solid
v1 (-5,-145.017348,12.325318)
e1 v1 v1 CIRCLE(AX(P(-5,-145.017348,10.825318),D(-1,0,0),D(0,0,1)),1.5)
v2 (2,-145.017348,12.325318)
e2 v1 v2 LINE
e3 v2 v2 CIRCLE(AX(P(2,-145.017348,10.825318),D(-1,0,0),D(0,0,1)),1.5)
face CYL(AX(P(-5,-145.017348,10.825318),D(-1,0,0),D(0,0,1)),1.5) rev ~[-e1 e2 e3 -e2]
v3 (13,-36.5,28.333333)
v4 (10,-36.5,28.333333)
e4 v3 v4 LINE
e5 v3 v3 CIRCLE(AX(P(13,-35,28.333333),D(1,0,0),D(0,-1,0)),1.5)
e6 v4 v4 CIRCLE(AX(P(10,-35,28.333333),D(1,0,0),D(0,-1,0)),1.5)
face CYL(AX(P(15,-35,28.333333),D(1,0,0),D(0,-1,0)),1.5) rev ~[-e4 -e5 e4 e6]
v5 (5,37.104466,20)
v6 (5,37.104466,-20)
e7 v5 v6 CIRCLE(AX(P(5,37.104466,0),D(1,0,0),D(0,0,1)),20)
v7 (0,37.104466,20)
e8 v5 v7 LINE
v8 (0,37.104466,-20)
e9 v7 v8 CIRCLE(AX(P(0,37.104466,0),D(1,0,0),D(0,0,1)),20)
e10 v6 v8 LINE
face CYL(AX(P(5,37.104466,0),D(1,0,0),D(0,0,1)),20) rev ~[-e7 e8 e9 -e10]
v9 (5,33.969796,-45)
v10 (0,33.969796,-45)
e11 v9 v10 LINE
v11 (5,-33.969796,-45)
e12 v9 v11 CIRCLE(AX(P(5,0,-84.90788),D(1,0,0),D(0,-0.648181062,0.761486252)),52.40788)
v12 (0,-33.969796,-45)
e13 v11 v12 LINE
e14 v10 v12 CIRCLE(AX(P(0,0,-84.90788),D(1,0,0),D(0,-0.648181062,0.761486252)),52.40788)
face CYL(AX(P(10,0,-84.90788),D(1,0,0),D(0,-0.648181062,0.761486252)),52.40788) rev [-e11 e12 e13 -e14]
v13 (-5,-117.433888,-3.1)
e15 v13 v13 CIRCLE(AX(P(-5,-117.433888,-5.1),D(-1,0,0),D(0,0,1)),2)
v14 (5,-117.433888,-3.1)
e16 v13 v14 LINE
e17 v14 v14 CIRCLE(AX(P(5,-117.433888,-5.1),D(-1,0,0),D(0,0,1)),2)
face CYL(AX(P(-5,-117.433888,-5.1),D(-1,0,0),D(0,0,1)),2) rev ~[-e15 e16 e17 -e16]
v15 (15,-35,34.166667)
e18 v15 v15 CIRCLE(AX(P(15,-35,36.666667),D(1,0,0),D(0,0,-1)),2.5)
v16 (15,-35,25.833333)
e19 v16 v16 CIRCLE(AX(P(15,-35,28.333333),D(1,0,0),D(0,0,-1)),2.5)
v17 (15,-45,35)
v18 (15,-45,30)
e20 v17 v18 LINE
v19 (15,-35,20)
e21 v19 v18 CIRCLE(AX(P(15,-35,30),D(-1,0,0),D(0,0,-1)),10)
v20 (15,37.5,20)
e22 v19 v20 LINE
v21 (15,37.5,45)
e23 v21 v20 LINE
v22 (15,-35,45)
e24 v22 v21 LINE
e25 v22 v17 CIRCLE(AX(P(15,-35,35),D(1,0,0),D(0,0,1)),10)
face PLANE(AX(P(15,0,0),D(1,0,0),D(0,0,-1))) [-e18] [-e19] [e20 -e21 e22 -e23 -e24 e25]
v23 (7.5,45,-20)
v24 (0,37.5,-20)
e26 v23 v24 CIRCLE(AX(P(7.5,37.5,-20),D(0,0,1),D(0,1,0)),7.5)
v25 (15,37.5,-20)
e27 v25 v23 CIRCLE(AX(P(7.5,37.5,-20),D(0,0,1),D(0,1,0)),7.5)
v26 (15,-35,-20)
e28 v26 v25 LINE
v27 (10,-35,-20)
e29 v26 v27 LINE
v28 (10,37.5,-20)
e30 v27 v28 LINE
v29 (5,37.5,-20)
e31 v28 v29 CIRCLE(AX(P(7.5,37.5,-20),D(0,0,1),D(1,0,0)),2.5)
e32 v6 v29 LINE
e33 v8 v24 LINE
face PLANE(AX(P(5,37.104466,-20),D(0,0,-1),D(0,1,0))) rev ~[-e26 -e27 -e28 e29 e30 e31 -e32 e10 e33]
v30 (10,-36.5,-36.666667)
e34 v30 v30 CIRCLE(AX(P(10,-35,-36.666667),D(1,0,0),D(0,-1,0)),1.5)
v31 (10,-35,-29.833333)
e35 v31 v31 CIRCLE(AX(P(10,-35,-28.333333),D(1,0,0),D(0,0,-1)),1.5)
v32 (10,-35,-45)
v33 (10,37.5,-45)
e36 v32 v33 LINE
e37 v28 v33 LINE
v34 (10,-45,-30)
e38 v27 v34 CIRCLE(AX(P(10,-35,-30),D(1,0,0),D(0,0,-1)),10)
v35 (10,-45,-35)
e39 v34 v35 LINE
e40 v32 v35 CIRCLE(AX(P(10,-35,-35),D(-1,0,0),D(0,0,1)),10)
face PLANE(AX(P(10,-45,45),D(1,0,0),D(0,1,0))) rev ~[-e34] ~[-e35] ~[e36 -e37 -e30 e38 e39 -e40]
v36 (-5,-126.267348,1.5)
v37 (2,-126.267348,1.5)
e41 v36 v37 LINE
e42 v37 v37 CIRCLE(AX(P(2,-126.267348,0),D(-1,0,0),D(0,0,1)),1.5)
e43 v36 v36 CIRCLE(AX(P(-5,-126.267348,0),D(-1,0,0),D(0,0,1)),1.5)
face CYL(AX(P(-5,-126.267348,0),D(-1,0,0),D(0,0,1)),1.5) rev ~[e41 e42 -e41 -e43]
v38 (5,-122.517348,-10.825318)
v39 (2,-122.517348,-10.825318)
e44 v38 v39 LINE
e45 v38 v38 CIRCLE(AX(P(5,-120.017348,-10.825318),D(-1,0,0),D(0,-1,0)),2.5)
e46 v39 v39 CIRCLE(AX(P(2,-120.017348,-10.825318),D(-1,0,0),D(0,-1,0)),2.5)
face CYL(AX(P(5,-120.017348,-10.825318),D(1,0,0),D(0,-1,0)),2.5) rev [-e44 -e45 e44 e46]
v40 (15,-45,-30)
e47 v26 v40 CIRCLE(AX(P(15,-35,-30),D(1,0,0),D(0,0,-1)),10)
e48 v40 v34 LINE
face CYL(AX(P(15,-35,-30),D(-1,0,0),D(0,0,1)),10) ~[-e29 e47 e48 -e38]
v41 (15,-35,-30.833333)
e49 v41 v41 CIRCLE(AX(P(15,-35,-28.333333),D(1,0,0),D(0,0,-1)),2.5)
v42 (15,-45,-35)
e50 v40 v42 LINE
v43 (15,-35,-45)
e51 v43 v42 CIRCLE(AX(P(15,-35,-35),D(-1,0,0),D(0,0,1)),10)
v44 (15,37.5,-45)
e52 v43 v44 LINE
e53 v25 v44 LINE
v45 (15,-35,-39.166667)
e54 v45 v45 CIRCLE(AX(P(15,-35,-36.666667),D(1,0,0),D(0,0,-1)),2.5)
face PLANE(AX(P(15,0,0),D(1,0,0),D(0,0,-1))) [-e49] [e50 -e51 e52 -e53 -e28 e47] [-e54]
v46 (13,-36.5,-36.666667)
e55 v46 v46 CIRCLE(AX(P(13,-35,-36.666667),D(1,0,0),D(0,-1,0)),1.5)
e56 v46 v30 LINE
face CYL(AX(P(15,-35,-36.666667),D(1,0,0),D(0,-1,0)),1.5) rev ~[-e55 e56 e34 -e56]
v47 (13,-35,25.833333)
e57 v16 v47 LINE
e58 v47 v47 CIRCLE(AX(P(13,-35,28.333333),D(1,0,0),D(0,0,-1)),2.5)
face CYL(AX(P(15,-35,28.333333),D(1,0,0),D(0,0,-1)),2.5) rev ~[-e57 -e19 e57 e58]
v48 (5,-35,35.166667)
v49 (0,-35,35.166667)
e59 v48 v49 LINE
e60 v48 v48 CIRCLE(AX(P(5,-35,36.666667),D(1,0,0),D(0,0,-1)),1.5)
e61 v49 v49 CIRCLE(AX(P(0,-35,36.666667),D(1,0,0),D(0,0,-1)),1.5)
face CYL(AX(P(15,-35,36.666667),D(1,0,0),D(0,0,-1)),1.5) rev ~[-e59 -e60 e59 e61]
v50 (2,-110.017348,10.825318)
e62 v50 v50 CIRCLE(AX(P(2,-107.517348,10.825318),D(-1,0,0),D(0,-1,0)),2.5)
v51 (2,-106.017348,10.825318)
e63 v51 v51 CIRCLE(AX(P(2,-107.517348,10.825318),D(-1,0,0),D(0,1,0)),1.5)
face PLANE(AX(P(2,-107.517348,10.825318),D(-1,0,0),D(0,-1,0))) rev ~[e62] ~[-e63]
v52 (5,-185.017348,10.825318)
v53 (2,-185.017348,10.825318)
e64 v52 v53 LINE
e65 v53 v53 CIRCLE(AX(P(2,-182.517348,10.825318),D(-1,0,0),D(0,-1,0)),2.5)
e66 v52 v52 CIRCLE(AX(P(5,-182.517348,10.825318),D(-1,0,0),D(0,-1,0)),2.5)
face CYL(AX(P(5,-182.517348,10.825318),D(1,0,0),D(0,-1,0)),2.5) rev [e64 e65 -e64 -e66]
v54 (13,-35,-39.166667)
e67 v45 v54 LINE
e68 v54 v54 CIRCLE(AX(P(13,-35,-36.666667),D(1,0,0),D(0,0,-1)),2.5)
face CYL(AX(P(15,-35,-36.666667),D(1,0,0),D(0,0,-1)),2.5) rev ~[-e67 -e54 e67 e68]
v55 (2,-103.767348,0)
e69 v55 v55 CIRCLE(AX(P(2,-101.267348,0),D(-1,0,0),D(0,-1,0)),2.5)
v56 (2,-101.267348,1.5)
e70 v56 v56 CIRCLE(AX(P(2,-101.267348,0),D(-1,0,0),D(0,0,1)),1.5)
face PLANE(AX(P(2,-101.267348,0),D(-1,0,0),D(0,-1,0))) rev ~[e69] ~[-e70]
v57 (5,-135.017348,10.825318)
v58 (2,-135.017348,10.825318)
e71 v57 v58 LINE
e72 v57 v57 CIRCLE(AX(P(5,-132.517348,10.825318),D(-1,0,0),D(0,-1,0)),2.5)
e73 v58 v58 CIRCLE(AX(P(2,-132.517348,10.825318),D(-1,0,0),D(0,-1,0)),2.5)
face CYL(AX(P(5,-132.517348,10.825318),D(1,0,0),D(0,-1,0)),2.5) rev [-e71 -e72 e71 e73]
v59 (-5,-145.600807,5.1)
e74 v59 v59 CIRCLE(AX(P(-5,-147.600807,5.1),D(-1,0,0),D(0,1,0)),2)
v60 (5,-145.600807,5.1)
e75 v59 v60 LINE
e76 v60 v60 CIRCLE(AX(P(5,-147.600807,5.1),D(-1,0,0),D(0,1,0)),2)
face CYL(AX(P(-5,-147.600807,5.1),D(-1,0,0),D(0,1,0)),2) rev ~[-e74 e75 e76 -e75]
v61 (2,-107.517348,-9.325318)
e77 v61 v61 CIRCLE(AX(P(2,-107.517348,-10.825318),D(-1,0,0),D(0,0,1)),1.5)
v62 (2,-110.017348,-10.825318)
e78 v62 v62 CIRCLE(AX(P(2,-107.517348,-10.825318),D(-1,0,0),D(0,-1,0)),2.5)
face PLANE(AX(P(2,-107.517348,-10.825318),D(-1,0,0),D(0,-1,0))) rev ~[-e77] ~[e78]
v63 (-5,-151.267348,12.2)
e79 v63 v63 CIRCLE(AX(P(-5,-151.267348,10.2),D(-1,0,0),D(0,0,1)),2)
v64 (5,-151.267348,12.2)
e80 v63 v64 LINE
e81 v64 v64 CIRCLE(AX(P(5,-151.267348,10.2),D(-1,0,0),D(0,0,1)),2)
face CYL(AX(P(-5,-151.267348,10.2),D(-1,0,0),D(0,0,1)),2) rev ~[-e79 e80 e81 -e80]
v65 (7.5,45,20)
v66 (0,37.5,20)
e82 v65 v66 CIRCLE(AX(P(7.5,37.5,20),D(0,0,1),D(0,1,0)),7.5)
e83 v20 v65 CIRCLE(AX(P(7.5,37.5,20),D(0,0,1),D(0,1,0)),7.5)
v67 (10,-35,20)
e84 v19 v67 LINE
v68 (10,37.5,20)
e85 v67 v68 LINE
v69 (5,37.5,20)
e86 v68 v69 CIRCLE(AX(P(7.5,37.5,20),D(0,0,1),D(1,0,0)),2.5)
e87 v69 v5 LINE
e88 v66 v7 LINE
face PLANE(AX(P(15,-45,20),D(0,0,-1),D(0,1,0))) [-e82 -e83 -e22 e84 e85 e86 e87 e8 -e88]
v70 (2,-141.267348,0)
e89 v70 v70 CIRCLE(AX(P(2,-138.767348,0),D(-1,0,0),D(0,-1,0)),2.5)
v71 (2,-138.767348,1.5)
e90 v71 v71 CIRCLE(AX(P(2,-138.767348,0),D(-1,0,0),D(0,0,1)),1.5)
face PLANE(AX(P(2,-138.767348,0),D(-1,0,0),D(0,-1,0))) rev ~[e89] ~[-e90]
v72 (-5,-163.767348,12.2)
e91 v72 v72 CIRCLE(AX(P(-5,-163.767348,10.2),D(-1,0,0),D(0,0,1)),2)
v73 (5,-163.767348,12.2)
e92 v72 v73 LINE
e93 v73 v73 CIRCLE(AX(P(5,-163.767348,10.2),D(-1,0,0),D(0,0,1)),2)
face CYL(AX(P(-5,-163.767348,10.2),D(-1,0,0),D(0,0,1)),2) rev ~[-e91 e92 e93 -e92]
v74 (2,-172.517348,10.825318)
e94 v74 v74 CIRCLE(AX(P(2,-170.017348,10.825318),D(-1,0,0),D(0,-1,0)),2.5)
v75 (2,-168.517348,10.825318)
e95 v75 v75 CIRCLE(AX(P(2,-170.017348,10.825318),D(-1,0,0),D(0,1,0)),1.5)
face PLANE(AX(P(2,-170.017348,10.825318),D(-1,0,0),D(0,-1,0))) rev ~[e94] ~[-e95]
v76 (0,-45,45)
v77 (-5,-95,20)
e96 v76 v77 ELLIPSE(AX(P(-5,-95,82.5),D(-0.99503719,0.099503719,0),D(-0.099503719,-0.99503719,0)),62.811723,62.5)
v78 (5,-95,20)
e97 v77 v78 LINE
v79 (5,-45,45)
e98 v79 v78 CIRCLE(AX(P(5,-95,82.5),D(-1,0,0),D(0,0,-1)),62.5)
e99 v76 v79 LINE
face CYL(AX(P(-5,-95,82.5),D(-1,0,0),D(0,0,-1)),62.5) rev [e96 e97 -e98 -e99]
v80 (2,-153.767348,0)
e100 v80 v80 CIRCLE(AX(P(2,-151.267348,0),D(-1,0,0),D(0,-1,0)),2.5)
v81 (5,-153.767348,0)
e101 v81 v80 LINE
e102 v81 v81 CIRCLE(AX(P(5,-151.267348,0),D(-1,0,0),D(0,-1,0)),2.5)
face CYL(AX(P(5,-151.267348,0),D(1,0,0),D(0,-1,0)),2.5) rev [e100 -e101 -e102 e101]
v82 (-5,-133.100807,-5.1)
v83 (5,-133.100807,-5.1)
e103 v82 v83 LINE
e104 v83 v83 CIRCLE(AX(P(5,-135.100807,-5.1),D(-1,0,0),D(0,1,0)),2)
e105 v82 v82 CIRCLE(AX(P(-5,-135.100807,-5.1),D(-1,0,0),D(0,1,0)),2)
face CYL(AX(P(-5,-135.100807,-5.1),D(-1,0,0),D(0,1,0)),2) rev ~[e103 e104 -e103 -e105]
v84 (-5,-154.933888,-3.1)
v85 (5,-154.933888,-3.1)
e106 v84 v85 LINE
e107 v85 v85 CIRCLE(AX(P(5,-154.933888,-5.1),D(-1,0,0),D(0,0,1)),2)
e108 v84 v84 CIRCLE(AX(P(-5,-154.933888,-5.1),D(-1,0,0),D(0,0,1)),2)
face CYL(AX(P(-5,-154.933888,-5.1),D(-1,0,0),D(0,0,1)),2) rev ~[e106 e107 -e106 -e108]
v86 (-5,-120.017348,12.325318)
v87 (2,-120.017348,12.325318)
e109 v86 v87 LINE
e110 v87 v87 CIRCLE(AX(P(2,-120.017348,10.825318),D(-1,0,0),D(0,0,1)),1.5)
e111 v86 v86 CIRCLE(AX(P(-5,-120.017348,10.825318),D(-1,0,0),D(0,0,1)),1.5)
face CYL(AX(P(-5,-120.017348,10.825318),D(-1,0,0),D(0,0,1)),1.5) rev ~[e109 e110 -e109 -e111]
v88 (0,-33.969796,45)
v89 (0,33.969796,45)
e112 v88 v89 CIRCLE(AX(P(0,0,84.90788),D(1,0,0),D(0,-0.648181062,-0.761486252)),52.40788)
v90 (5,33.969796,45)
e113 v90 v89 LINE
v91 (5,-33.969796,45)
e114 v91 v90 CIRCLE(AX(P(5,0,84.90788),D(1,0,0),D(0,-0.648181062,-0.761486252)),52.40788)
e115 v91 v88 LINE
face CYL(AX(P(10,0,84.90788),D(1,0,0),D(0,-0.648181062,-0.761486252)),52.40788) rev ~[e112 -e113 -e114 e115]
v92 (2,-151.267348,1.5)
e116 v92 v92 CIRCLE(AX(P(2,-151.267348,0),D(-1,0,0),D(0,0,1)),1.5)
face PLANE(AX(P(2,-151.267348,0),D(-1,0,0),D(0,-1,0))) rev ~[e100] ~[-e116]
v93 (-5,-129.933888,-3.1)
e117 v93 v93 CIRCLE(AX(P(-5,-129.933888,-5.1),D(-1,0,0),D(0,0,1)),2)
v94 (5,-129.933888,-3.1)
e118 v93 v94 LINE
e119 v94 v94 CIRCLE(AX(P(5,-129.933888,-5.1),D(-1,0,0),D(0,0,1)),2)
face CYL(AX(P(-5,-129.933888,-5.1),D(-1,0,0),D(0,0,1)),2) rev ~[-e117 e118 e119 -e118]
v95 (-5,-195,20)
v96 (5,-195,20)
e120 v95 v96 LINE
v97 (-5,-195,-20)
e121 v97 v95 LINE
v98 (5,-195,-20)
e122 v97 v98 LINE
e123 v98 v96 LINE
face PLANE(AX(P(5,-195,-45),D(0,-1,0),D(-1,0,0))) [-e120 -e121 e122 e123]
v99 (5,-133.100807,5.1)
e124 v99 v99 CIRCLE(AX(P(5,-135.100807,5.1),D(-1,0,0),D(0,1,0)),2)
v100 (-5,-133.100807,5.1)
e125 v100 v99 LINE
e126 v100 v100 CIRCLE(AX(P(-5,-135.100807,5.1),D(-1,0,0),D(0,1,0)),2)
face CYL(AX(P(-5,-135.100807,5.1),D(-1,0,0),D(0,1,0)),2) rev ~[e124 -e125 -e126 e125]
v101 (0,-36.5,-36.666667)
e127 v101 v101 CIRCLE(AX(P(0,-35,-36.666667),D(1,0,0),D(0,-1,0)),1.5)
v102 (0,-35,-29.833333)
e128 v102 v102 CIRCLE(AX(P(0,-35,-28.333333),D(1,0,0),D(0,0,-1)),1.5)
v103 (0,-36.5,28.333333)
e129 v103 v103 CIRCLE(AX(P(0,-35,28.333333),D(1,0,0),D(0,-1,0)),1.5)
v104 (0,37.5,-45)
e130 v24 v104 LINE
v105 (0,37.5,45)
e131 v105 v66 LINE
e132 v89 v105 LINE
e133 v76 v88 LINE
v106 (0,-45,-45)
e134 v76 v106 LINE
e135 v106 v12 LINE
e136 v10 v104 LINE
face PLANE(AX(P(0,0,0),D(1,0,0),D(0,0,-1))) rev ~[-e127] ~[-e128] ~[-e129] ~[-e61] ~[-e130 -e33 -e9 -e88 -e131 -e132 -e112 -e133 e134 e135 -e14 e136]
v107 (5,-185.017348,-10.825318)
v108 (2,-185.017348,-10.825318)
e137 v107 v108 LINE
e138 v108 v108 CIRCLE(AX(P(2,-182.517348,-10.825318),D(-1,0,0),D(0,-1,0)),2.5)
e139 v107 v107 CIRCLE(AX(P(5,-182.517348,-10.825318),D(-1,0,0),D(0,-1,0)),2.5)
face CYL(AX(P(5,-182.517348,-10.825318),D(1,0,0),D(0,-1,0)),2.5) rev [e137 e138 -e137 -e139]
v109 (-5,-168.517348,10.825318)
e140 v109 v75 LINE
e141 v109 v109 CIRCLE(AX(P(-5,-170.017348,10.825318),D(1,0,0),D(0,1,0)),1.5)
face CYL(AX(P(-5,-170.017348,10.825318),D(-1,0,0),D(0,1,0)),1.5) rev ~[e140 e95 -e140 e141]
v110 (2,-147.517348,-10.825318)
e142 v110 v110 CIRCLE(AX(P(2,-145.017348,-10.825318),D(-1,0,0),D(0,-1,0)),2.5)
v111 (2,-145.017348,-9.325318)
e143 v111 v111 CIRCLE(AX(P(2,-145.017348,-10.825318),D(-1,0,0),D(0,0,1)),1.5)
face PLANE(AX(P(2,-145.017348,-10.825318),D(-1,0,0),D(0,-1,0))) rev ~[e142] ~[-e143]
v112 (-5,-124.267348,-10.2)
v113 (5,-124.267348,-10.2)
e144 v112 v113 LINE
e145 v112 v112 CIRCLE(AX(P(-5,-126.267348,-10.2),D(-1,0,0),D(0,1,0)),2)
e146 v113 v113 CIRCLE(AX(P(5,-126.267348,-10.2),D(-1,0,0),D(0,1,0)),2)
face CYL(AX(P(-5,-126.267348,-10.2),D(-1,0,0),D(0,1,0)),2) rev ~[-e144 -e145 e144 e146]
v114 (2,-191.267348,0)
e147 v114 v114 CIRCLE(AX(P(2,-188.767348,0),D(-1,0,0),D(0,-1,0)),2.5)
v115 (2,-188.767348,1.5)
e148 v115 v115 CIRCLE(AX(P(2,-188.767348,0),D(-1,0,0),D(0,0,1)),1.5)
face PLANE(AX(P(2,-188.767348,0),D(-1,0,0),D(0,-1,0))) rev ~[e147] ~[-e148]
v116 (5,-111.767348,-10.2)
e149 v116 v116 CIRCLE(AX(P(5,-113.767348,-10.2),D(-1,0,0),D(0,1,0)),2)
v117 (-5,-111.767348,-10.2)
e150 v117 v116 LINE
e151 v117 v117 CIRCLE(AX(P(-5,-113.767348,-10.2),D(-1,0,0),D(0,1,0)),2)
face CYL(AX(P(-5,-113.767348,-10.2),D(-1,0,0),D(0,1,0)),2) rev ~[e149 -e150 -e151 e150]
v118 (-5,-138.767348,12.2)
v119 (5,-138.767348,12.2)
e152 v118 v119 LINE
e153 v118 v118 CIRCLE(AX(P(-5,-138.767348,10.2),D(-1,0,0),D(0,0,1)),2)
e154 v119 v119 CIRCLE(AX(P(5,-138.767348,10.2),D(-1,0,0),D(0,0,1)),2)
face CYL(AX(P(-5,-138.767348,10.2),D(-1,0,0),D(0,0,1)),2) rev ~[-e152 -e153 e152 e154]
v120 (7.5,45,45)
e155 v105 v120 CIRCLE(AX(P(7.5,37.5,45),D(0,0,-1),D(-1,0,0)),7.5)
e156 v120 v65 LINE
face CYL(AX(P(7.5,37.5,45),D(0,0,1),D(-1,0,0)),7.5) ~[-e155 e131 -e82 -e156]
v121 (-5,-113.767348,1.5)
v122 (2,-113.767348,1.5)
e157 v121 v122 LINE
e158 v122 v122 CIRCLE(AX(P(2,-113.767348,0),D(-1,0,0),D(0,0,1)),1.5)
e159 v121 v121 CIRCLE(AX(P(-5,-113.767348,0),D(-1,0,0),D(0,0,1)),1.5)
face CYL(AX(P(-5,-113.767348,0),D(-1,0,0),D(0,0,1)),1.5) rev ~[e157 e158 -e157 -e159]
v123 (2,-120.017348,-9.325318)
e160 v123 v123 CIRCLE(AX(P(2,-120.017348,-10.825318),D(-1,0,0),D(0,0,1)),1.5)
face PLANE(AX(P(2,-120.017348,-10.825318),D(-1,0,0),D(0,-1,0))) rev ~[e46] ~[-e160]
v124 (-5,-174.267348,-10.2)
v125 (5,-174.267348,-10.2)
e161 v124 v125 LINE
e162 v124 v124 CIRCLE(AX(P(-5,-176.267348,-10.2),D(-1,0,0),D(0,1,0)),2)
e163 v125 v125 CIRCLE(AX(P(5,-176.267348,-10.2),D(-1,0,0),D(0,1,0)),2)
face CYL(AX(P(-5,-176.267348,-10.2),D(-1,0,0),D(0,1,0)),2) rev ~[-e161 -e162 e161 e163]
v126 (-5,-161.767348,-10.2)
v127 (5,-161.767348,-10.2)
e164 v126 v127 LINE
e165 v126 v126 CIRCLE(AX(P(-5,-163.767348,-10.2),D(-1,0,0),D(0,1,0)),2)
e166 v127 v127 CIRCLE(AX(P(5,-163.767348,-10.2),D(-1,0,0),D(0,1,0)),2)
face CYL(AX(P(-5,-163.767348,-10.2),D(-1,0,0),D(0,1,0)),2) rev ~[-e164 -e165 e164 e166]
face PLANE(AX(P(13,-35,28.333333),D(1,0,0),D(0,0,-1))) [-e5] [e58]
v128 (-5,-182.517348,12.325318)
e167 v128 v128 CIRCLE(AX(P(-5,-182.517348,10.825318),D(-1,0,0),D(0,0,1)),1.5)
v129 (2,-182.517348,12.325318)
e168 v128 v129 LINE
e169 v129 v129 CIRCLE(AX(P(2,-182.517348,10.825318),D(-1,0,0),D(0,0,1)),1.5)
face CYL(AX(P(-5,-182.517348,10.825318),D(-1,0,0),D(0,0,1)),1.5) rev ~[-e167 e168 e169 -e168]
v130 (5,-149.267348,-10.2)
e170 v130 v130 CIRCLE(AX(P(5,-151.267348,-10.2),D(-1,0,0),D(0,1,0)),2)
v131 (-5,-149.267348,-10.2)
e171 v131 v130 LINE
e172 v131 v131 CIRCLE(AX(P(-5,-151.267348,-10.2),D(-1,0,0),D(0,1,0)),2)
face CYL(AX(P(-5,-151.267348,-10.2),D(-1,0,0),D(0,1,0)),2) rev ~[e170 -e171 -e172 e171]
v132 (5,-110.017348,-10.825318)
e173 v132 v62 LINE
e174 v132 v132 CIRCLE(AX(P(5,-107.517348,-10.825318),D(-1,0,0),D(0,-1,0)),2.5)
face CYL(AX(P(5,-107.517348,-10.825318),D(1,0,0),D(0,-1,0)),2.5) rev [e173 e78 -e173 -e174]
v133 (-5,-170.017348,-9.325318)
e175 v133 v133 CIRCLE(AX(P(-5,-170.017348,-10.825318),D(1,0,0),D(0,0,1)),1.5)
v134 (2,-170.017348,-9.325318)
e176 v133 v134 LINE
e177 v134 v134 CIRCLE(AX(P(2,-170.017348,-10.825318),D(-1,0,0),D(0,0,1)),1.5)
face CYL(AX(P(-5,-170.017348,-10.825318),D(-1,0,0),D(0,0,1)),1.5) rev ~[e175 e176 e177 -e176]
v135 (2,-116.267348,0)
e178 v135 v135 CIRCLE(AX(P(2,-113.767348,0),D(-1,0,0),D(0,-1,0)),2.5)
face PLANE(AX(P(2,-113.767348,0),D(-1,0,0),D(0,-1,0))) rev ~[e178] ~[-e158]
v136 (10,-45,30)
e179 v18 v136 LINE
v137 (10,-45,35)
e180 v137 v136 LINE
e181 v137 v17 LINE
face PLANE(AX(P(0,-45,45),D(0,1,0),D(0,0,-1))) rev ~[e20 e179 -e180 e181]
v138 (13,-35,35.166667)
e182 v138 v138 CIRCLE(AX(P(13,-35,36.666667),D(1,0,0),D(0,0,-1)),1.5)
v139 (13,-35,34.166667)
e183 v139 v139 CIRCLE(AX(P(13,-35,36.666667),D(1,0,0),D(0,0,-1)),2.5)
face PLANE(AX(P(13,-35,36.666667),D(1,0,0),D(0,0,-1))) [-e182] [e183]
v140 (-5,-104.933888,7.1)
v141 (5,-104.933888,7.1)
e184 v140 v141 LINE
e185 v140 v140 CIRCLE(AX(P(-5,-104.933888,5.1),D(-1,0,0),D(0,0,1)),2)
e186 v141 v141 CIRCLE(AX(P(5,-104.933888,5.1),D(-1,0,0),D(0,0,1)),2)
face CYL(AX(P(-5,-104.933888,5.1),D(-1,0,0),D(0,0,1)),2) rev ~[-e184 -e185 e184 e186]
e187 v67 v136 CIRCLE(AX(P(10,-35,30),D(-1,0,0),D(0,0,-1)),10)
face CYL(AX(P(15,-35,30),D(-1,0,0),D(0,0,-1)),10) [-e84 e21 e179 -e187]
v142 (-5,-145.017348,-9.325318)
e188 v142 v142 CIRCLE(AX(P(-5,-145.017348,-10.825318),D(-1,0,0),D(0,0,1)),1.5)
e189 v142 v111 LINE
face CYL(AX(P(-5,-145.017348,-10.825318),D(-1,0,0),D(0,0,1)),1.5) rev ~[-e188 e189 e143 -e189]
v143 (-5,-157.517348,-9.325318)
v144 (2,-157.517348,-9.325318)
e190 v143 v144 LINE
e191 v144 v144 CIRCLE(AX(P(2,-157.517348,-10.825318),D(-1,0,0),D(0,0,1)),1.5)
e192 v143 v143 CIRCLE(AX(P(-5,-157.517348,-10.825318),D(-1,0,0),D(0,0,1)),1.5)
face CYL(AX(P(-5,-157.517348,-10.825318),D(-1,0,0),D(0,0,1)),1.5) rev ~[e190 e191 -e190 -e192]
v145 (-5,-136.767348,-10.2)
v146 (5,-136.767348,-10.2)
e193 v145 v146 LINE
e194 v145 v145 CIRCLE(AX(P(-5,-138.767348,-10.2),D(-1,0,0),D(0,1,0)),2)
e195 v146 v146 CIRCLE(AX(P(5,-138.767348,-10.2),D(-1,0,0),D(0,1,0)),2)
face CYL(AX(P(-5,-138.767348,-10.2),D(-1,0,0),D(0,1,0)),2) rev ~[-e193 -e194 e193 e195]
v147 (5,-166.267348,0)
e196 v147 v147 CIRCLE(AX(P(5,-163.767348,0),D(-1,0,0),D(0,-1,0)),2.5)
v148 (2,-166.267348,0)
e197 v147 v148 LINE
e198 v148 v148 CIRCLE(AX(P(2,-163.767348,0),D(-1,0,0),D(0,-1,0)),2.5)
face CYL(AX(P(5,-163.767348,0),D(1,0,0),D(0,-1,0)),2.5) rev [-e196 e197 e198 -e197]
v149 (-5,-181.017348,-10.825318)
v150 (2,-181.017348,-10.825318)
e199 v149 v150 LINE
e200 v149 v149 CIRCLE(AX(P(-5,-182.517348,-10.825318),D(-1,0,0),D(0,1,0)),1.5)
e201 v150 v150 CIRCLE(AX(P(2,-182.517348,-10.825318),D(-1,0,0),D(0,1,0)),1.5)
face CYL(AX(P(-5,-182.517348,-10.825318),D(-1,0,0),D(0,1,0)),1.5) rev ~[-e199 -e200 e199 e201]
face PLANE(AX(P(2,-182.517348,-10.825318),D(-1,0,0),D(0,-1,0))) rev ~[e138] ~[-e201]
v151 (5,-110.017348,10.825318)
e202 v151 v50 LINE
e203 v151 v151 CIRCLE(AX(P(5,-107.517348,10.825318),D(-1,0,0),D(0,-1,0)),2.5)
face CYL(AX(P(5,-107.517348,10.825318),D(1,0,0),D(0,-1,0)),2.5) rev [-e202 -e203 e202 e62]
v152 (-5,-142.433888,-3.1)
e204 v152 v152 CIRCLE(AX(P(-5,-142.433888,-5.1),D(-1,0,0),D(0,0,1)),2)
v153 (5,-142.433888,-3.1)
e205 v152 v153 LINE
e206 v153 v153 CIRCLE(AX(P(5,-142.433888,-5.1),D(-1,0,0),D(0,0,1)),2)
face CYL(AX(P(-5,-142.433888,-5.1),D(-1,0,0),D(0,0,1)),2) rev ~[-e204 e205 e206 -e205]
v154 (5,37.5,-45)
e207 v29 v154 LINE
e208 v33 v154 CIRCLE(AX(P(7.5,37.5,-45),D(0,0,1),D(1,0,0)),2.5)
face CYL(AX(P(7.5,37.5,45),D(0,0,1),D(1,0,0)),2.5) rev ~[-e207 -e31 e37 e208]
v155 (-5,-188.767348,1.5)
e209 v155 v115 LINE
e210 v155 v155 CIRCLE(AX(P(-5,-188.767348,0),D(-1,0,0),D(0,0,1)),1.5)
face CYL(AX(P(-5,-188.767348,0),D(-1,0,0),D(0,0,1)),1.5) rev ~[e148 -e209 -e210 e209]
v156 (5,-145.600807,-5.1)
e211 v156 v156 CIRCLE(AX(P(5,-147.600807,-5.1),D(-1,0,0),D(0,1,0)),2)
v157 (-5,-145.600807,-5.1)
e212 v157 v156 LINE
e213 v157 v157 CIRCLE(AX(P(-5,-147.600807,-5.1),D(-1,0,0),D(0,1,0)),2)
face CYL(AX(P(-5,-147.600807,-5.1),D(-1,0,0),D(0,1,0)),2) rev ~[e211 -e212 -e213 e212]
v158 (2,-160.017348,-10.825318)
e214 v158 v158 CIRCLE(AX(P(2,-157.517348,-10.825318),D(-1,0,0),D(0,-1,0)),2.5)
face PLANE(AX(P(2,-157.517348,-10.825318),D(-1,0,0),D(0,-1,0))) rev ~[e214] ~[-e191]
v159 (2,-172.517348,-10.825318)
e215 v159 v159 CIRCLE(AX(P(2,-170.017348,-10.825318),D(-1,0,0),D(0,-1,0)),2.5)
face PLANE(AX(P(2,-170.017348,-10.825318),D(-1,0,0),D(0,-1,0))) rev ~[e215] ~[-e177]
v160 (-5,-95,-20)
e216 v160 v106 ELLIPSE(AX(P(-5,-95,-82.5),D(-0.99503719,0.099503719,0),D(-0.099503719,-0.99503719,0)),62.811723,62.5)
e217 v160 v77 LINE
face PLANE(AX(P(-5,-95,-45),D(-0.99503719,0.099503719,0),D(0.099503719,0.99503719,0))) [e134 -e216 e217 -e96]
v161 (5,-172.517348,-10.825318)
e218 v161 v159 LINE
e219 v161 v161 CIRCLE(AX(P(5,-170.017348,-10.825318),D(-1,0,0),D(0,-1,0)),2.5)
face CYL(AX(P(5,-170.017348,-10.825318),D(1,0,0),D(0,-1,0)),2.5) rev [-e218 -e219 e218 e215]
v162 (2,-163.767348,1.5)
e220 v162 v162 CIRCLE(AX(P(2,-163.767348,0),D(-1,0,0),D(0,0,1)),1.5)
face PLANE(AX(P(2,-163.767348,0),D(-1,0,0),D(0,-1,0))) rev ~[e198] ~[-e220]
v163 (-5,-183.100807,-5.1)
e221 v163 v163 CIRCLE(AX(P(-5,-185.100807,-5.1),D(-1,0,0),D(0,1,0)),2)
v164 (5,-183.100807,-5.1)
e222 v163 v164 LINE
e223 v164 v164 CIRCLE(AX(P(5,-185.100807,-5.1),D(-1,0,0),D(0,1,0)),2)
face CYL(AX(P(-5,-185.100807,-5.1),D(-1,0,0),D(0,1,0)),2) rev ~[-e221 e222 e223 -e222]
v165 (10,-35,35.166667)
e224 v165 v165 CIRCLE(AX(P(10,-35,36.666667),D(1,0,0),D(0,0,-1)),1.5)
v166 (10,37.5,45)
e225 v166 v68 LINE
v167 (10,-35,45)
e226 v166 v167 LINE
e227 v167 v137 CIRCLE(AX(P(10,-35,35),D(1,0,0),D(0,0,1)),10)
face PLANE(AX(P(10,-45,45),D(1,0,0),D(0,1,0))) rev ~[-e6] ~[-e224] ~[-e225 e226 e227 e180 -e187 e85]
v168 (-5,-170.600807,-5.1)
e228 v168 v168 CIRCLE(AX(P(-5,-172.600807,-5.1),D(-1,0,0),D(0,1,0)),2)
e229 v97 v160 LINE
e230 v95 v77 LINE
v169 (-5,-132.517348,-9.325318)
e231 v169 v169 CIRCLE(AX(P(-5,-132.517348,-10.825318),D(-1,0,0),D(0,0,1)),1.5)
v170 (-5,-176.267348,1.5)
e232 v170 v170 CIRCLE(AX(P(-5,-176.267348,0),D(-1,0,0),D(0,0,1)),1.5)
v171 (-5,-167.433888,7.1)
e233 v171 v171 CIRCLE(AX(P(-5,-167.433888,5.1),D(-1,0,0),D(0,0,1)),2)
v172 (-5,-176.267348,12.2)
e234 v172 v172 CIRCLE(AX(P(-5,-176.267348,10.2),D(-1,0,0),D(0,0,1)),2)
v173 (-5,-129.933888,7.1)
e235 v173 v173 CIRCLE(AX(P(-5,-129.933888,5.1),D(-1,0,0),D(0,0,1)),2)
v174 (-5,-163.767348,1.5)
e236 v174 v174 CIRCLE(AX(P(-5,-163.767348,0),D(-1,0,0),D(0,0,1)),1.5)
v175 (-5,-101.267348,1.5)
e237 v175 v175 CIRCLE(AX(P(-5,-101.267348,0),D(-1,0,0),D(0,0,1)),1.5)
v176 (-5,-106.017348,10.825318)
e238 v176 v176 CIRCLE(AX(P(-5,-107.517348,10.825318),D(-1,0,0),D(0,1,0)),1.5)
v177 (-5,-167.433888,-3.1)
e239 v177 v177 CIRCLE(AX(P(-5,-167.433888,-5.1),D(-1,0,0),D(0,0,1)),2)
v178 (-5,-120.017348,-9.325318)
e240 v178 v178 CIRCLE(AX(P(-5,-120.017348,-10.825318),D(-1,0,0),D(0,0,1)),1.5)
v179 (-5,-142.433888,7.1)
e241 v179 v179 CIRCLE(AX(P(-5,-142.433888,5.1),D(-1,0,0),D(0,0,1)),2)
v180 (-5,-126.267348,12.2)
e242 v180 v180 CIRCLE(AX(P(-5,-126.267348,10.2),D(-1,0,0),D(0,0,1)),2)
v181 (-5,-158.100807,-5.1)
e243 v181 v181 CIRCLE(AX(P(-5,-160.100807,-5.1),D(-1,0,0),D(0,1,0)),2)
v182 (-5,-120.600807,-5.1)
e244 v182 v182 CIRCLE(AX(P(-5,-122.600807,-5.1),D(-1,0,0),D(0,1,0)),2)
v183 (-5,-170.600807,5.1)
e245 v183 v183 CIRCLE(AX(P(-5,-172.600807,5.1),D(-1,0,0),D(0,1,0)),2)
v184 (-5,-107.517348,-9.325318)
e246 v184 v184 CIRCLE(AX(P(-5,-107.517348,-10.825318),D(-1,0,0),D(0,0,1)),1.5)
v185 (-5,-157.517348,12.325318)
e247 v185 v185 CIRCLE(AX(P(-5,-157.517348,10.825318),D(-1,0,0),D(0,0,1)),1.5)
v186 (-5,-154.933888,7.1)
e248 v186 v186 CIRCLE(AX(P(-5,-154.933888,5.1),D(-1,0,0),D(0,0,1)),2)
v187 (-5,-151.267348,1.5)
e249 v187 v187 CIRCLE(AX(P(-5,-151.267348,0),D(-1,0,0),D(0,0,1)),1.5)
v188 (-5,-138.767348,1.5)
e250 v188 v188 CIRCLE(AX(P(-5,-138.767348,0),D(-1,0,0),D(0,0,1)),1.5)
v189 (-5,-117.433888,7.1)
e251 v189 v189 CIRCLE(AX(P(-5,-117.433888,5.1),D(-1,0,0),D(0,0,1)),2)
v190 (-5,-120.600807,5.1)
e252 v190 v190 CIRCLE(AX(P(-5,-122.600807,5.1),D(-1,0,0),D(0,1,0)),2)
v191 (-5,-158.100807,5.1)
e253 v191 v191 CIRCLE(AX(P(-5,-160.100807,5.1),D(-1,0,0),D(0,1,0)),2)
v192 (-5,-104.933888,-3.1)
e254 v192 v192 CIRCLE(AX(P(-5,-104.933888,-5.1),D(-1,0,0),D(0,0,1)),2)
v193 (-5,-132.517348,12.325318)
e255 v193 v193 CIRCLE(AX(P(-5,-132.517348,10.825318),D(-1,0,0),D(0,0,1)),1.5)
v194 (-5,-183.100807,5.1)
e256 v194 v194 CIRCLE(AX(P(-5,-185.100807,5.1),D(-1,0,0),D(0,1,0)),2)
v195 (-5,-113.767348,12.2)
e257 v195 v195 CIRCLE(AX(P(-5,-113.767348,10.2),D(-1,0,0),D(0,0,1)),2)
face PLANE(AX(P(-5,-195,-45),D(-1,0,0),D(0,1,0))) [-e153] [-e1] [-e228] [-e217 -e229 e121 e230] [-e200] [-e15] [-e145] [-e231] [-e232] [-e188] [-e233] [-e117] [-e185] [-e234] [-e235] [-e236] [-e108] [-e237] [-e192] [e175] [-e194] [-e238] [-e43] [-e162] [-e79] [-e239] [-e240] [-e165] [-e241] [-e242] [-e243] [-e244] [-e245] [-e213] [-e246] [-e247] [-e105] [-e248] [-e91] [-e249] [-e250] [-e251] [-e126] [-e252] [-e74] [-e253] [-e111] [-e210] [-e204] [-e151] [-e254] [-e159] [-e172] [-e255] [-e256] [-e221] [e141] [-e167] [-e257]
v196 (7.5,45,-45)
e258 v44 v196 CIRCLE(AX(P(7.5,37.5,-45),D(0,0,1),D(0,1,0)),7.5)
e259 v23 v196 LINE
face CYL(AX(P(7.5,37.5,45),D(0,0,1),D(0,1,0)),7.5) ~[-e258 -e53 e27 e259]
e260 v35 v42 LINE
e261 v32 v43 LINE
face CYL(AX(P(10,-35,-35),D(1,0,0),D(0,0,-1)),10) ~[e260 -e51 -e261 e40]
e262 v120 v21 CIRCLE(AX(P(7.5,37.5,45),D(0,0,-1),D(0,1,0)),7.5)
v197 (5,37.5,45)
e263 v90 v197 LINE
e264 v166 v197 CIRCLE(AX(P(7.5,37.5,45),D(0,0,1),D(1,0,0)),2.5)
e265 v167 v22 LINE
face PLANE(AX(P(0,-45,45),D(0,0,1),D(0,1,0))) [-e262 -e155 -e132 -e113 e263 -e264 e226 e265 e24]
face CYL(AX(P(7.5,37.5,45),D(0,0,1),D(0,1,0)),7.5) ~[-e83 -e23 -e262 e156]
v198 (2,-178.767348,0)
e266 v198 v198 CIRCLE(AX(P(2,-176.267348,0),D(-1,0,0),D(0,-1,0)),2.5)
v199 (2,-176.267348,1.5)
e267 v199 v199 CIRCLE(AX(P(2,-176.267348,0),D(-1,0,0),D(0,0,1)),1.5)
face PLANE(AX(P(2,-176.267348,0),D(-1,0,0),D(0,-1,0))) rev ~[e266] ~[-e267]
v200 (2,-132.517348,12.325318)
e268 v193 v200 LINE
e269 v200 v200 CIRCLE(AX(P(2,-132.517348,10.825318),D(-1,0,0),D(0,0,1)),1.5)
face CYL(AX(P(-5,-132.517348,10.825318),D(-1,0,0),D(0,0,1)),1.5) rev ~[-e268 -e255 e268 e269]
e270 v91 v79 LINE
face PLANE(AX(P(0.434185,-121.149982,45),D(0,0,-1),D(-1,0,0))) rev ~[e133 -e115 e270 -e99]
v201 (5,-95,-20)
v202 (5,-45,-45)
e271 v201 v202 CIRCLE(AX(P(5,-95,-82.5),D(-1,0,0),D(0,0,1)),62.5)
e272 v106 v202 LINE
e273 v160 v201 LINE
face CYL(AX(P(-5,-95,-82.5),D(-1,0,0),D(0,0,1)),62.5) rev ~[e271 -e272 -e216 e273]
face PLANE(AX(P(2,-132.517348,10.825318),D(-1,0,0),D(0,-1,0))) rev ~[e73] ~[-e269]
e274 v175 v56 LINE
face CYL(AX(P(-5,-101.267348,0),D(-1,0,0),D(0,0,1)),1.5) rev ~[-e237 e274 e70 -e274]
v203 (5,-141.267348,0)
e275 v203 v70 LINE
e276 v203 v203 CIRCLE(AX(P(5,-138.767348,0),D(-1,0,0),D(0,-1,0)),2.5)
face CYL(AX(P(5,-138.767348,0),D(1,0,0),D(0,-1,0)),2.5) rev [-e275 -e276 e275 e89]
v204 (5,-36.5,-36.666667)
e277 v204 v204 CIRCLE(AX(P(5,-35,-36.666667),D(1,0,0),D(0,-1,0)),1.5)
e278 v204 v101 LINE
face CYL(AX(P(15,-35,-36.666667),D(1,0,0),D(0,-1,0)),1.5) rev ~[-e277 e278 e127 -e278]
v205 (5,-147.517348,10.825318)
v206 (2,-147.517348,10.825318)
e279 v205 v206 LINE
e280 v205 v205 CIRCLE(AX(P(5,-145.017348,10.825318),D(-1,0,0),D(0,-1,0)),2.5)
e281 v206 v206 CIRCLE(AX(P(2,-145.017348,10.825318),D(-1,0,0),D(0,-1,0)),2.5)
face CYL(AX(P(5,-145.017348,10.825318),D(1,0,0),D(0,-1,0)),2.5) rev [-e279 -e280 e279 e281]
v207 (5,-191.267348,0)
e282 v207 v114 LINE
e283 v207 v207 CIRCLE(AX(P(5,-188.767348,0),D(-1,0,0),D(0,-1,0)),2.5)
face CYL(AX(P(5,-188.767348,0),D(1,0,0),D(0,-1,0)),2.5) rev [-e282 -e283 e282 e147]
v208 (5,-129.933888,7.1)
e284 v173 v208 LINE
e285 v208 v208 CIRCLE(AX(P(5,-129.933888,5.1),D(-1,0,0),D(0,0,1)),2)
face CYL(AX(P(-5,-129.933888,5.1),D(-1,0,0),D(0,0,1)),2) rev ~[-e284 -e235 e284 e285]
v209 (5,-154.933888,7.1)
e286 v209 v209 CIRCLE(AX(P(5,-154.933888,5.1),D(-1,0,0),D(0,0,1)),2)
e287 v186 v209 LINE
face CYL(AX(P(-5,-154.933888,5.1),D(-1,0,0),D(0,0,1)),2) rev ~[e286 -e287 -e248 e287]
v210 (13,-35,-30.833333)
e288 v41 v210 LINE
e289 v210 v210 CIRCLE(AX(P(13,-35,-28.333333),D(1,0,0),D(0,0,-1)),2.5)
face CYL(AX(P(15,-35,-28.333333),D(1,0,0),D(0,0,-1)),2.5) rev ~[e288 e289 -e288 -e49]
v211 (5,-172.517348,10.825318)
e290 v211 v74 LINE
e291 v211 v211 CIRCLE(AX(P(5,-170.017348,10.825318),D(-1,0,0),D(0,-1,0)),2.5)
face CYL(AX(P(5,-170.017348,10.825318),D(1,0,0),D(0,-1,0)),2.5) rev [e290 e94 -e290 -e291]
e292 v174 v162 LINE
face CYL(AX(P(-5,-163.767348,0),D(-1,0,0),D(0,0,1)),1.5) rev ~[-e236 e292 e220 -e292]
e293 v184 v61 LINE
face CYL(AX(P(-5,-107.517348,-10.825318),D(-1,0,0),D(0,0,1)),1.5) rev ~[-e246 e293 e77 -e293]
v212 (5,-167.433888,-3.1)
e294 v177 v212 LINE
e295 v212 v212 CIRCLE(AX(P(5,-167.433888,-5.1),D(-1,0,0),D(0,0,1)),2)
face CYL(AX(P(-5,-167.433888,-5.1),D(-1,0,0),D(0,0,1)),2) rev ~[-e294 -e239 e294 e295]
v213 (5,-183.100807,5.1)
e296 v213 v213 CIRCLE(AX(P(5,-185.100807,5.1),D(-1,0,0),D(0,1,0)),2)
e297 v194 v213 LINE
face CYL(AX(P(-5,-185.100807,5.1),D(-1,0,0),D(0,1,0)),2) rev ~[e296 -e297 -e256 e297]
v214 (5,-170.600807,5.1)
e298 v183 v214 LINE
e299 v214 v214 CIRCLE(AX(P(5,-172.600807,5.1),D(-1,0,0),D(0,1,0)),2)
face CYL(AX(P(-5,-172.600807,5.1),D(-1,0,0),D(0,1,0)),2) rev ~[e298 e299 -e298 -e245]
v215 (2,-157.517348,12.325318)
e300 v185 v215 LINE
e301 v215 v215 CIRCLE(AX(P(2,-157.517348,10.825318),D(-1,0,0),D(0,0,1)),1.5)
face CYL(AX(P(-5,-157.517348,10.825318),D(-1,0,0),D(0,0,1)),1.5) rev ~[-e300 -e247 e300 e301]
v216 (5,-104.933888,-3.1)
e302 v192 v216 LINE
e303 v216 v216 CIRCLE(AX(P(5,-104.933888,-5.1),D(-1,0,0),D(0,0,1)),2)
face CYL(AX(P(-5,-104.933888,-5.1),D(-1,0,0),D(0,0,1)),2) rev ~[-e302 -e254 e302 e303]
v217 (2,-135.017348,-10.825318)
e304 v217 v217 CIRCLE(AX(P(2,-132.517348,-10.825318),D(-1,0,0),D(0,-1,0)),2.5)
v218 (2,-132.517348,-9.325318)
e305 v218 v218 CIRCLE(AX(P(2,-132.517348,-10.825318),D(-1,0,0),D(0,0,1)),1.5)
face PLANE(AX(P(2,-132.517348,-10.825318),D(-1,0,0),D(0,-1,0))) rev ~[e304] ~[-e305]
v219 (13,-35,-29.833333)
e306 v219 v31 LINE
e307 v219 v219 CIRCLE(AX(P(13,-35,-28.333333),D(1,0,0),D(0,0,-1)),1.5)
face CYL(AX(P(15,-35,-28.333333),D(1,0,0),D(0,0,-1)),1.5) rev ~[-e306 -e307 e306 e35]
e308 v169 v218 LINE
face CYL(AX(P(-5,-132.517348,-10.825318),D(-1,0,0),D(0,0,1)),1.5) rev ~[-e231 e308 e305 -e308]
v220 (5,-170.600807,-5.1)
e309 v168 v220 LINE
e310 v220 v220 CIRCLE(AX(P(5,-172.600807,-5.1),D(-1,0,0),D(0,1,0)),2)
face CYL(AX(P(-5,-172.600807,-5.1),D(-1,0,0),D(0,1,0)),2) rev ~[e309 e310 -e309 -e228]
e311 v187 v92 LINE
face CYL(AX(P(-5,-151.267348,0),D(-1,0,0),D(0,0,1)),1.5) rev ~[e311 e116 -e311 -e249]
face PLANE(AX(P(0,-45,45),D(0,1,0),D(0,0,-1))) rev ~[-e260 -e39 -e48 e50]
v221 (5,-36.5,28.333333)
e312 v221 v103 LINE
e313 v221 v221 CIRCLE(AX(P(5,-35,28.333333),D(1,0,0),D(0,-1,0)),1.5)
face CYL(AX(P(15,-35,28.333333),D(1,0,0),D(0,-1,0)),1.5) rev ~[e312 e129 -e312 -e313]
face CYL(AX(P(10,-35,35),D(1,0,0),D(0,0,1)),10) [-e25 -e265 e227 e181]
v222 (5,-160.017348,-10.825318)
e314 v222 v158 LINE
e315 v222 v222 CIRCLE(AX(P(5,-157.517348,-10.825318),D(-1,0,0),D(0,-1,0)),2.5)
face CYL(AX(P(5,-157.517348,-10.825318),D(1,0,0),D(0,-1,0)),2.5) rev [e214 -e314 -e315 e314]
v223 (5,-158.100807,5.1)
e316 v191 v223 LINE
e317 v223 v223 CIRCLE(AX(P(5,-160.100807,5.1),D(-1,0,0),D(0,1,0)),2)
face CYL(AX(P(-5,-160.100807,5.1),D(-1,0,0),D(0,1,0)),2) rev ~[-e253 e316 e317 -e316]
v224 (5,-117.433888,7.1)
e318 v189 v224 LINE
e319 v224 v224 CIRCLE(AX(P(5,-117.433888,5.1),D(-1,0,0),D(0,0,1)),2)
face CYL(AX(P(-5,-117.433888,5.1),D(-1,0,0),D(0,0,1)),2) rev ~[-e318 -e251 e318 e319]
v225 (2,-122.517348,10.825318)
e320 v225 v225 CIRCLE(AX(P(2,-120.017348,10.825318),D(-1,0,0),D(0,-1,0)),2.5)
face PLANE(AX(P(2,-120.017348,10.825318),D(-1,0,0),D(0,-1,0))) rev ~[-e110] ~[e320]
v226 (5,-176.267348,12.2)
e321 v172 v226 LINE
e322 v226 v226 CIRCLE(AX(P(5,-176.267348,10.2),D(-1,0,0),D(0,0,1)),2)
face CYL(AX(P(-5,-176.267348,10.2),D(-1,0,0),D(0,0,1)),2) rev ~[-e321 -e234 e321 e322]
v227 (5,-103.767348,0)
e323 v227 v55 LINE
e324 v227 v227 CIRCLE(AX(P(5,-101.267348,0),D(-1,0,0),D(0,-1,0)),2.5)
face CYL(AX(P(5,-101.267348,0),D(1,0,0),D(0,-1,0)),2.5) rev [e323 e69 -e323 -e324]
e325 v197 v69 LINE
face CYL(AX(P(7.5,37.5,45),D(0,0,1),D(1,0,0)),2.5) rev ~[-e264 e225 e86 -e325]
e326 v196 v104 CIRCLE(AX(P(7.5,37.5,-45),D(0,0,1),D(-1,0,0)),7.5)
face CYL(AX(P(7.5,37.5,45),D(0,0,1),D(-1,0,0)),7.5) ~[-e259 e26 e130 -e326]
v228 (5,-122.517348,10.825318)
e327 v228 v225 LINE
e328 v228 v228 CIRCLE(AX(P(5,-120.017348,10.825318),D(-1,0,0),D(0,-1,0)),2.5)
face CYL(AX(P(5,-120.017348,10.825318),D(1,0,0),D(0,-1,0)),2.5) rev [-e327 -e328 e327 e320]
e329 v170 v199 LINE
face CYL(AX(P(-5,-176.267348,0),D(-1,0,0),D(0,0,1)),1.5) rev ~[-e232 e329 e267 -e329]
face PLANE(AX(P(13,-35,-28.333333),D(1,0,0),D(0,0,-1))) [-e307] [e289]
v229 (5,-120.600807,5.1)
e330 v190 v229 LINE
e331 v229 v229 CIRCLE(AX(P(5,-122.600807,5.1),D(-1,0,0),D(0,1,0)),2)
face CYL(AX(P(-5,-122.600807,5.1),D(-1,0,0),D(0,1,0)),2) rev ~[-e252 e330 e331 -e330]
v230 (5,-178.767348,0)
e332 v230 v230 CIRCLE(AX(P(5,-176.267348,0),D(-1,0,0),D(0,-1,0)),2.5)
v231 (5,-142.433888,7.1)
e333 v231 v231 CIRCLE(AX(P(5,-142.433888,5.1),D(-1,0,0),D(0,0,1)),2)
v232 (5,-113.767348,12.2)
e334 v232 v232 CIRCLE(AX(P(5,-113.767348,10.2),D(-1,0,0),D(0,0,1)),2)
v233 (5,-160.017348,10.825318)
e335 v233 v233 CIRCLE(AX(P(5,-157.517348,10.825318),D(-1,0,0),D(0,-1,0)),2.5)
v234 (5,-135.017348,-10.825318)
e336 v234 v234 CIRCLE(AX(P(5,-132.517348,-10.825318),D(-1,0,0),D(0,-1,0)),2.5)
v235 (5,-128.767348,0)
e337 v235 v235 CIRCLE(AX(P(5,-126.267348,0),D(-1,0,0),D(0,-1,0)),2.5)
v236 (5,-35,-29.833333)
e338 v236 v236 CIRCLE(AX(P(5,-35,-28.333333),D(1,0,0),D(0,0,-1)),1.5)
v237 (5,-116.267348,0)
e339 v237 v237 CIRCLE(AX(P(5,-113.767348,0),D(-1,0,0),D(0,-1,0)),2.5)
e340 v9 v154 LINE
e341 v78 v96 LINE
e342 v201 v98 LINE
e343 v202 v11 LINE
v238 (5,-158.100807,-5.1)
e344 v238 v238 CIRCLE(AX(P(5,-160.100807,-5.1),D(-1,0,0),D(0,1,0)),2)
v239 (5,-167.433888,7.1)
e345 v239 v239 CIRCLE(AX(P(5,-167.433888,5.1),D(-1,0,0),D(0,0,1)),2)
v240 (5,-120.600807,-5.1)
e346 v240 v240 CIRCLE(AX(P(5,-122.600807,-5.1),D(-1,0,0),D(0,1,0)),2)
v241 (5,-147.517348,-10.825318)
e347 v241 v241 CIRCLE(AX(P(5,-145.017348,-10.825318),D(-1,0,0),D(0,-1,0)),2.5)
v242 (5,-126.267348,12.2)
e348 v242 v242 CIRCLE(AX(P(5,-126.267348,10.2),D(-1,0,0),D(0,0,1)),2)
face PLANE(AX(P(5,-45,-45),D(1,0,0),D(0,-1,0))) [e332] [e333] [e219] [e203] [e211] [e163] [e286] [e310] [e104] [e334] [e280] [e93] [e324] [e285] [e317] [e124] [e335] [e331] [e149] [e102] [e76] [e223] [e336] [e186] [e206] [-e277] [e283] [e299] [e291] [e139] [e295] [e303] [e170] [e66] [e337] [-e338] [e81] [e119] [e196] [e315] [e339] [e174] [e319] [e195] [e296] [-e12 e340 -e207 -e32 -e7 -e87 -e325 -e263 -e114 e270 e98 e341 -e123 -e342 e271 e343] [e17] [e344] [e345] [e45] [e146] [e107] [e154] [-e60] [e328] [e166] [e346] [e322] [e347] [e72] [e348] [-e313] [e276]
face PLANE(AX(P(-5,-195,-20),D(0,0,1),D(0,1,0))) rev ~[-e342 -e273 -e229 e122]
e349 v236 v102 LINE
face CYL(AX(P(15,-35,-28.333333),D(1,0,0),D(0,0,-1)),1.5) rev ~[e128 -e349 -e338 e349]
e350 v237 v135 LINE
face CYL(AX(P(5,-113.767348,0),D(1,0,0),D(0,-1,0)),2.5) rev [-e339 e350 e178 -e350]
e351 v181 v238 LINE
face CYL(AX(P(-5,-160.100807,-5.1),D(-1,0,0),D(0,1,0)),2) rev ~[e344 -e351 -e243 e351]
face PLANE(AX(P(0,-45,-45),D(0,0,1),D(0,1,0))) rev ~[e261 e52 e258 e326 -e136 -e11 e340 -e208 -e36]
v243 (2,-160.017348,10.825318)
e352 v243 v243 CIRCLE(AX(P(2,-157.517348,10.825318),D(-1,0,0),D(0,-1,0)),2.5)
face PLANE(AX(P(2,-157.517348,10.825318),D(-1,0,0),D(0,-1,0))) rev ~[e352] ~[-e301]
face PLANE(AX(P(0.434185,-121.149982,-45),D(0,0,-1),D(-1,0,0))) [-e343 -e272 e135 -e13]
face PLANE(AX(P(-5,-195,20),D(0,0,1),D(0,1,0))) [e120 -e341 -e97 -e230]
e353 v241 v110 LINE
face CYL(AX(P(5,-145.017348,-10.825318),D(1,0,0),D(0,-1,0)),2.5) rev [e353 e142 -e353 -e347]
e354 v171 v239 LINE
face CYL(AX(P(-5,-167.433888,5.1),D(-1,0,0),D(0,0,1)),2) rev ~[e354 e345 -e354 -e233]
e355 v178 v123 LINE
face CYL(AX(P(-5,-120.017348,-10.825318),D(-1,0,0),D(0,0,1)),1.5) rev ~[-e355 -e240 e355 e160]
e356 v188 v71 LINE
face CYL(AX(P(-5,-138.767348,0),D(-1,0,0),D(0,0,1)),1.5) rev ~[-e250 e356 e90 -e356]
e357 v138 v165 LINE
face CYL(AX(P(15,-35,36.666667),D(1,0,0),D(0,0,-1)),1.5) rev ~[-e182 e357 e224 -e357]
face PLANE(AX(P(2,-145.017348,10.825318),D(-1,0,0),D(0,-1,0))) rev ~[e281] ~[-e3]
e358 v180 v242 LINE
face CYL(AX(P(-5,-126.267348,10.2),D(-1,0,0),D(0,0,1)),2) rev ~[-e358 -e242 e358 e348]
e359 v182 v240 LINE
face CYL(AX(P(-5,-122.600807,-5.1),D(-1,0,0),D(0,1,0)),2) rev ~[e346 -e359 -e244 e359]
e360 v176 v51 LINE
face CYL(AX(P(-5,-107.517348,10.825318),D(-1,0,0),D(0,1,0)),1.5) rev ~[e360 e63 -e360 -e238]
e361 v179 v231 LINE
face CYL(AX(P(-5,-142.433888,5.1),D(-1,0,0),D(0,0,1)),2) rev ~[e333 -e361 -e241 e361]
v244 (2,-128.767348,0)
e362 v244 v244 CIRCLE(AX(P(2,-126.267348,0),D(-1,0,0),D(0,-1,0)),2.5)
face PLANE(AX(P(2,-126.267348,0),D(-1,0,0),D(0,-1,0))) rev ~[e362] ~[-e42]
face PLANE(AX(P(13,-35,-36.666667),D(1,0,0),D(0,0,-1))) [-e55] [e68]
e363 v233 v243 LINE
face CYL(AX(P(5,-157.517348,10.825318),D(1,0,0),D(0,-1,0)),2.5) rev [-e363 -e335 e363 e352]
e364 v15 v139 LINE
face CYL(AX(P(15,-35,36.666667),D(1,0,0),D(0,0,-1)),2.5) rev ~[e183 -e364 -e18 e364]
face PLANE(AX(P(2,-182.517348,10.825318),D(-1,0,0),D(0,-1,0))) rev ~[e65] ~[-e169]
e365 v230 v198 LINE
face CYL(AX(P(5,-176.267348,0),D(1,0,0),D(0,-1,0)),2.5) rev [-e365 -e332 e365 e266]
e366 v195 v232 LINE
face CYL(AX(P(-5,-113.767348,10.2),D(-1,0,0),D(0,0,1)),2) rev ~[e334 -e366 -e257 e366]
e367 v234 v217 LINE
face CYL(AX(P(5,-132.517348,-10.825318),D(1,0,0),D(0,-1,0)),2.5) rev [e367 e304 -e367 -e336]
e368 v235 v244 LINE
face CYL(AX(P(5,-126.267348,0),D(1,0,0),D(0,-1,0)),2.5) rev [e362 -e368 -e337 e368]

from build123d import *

# Parameters (mm, degrees)
SKETCH_1_W               = 90
SKETCH_1_H               = 90
EXTRUDE_1_DEPTH          = 15
SKETCH_2_W               = 5
SKETCH_2_H               = 82.5
CUT_EXTRUDE_1_DEPTH      = 102.734949747
CUT_EXTRUDE_2_REACH      = 67.383
SKETCH_3_W               = 40
SKETCH_3_H               = 90
FILLET_1_R               = 10
CUT_EXTRUDE_3_DEPTH      = 65.420493634
CUT_EXTRUDE_4_DEPTH      = 15
CUT_EXTRUDE_4_DEPTH_BACK = 10
SKETCH_7_R               = 1.5
CUT_EXTRUDE_5_DEPTH      = 66.383484153
SKETCH_8_R               = 2.5
CUT_EXTRUDE_6_DEPTH      = 2
EXTRUDE_2_DEPTH          = 45
EXTRUDE_2_DEPTH_BACK     = 45
SKETCH_10_R              = 1.5
CUT_EXTRUDE_7_DEPTH      = 50
SKETCH_11_R              = 2
CUT_EXTRUDE_8_DEPTH      = 50
SKETCH_13_R              = 2.5
CUT_EXTRUDE_9_DEPTH      = 3
PATTERN_LINEAR_3_COUNT   = 6
PATTERN_LINEAR_3_PITCH   = 12.5
CUT_EXTRUDE_10_DEPTH     = 202.121853611


with BuildPart() as part:
    # 草图1 → 凸台-拉伸1 (new body)
    with BuildSketch(Plane(origin=(0, 0, 0), x_dir=(0, 0, -1), z_dir=(1, 0, 0))):
        Rectangle(SKETCH_1_W, SKETCH_1_H)
    extrude(amount=EXTRUDE_1_DEPTH)

    # 草图2 → 切除-拉伸1 (cut, through all)
    with BuildSketch(Plane.XY.offset(45)):
        with BuildLine():
            Line((0, 45), (0, 37.5))
            ThreePointArc((0, 37.5), (2.196699141, 42.803300859), (7.5, 45))
            Line((7.5, 45), (0, 45))
        make_face()
        with BuildLine():
            Line((15, 45), (7.5, 45))
            ThreePointArc((7.5, 45), (12.803300859, 42.803300859), (15, 37.5))
            Line((15, 37.5), (15, 45))
        make_face()
        with BuildLine():
            ThreePointArc((10, 37.5), (7.5, 40), (5, 37.5))
            Line((5, 37.5), (10, 37.5))
        make_face()
        with Locations((7.5, -3.75)):
            Rectangle(SKETCH_2_W, SKETCH_2_H)
    extrude(amount=-CUT_EXTRUDE_1_DEPTH, mode=Mode.SUBTRACT)

    # 切除-拉伸2: up to this face of the body (flat: up to its plane)
    cut_extrude_2_end = Plane(part.part.faces().sort_by_distance((5, -3.75, 0))[0])
    # 草图3 → 切除-拉伸2 (cut, up to the picked face)
    with BuildSketch(Plane(origin=(15, 0, 0), x_dir=(0, 0, -1), z_dir=(1, 0, 0)), mode=Mode.PRIVATE) as cut_extrude_2_sk1:
        Rectangle(SKETCH_3_W, SKETCH_3_H)
    cut_extrude_2_tool1 = split(extrude(cut_extrude_2_sk1.sketch, amount=-CUT_EXTRUDE_2_REACH, mode=Mode.PRIVATE), bisect_by=cut_extrude_2_end, keep=Keep.BOTH, mode=Mode.PRIVATE)
    add(cut_extrude_2_tool1.solids().sort_by(Axis((15, 0, 0), (-1, 0, 0)))[0], mode=Mode.SUBTRACT)

    # 圆角1
    fillet_1_edges = [part.edges().sort_by_distance(p)[0] for p in [
        (12.5, -45, 20),
        (12.5, -45, -20),
        (12.5, -45, -45),
        (12.5, -45, 45),
    ]]
    fillet(fillet_1_edges, radius=FILLET_1_R)

    # 草图4 → 切除-拉伸3 (cut, through all)
    with BuildSketch(Plane(origin=(5, 0, 0), x_dir=(0, 0, -1), z_dir=(1, 0, 0))):
        with BuildLine():
            Line((-20, 44.571067812), (-20, 37.104465858))
            ThreePointArc((-20, 37.104465858), (0, 17.104465858), (20, 37.104465858))
            Line((20, 37.104465858), (20, 44.571067812))
            Line((20, 44.571067812), (-20, 44.571067812))
        make_face()
    extrude(amount=-CUT_EXTRUDE_3_DEPTH, mode=Mode.SUBTRACT)

    # 草图6 → 切除-拉伸4 (cut, two sides: drawn at the far end of the back side and taken through both)
    with BuildSketch(Plane.ZY.offset(-CUT_EXTRUDE_4_DEPTH_BACK)):
        with BuildLine():
            Line((45, 33.969795549), (45, -33.969795549))
            ThreePointArc((45, -33.969795549), (32.5, 0), (45, 33.969795549))
        make_face()
        with BuildLine():
            Line((-45, 33.969795549), (-45, -33.969795549))
            ThreePointArc((-45, -33.969795549), (-32.5, 0), (-45, 33.969795549))
        make_face()
    extrude(amount=CUT_EXTRUDE_4_DEPTH + CUT_EXTRUDE_4_DEPTH_BACK, mode=Mode.SUBTRACT)

    # 草图7 → 切除-拉伸5 (cut, through all)
    with BuildSketch(Plane(origin=(15, 0, 0), x_dir=(0, 0, -1), z_dir=(1, 0, 0))):
        with Locations((-36.666666667, -35)):
            Circle(SKETCH_7_R)
        with Locations(Location((-28.333333333, -35, 0), (0, 0, 270))):
            Circle(SKETCH_7_R)
        with Locations(Location((36.666666667, -35, 0), (0, 0, 270))):
            Circle(SKETCH_7_R)
        with Locations((28.333333333, -35)):
            Circle(SKETCH_7_R)
    extrude(amount=-CUT_EXTRUDE_5_DEPTH, mode=Mode.SUBTRACT)

    # 草图8 → 切除-拉伸6 (cut)
    with BuildSketch(Plane(origin=(15, 0, 0), x_dir=(0, 0, -1), z_dir=(1, 0, 0))):
        with Locations((-36.666666667, -35)):
            Circle(SKETCH_8_R)
        with Locations((-28.333333333, -35)):
            Circle(SKETCH_8_R)
        with Locations((28.333333333, -35)):
            Circle(SKETCH_8_R)
        with Locations((36.666666667, -35)):
            Circle(SKETCH_8_R)
    extrude(amount=-CUT_EXTRUDE_6_DEPTH, mode=Mode.SUBTRACT)

    # 草图9 → 凸台-拉伸2 (add, two sides: drawn at the far end of the back side and taken through both)
    with BuildSketch(Plane.XY.offset(-EXTRUDE_2_DEPTH_BACK)):
        Polygon((0, -45), (5, -45), (5, -195), (-5, -195), (-5, -95), align=None)
    extrude(amount=EXTRUDE_2_DEPTH + EXTRUDE_2_DEPTH_BACK)

    # 草图10 → 切除-拉伸7 (cut)
    with BuildSketch(Plane.ZY.offset(5)):
        with Locations((0, -163.767347597)):
            Circle(SKETCH_10_R)
        with Locations((0, -188.767347597)):
            Circle(SKETCH_10_R)
        with Locations((-10.825317547, -170.017347597)):
            Circle(SKETCH_10_R)
        with Locations(Location((-10.825317547, -182.517347597, 0), (0, 0, 90))):
            Circle(SKETCH_10_R)
        with Locations((10.825317547, -182.517347597)):
            Circle(SKETCH_10_R)
        with Locations(Location((10.825317547, -170.017347597, 0), (0, 0, 90))):
            Circle(SKETCH_10_R)
    cut_extrude_7 = extrude(amount=-CUT_EXTRUDE_7_DEPTH, mode=Mode.SUBTRACT)

    # 草图11 → 切除-拉伸8 (cut)
    with BuildSketch(Plane.ZY.offset(5)):
        with Locations((-5.1, -167.433888479)):
            Circle(SKETCH_11_R)
        with Locations((10.2, -176.267347597)):
            Circle(SKETCH_11_R)
        with Locations((5.1, -167.433888479)):
            Circle(SKETCH_11_R)
        with Locations(Location((5.1, -185.100806716, 0), (0, 0, 90))):
            Circle(SKETCH_11_R)
        with Locations(Location((-5.1, -185.100806716, 0), (0, 0, 90))):
            Circle(SKETCH_11_R)
        with Locations(Location((-10.2, -176.267347597, 0), (0, 0, 90))):
            Circle(SKETCH_11_R)
    cut_extrude_8 = extrude(amount=-CUT_EXTRUDE_8_DEPTH, mode=Mode.SUBTRACT)

    # 草图13 → 切除-拉伸9 (cut)
    with BuildSketch(Plane.ZY.offset(-5)):
        with Locations(Location((0, -163.767347597, 0), (0, 0, 270))):
            Circle(SKETCH_13_R)
        with Locations(Location((10.825317547, -170.017347597, 0), (0, 0, 270))):
            Circle(SKETCH_13_R)
        with Locations(Location((10.825317547, -182.517347597, 0), (0, 0, 270))):
            Circle(SKETCH_13_R)
        with Locations(Location((0, -188.767347597, 0), (0, 0, 270))):
            Circle(SKETCH_13_R)
        with Locations(Location((-10.825317547, -182.517347597, 0), (0, 0, 270))):
            Circle(SKETCH_13_R)
        with Locations(Location((-10.825317547, -170.017347597, 0), (0, 0, 270))):
            Circle(SKETCH_13_R)
    cut_extrude_9 = extrude(amount=CUT_EXTRUDE_9_DEPTH, mode=Mode.SUBTRACT)

    # 阵列(线性)3: 切除-拉伸7, 切除-拉伸8, 切除-拉伸9 ×6
    with Locations(*[(0, i * PATTERN_LINEAR_3_PITCH, 0) for i in range(1, PATTERN_LINEAR_3_COUNT)]):
        add(cut_extrude_7, mode=Mode.SUBTRACT)
        add(cut_extrude_8, mode=Mode.SUBTRACT)
        add(cut_extrude_9, mode=Mode.SUBTRACT)

    # 草图14 → 切除-拉伸10 (cut, through all)
    with BuildSketch(Plane.ZY.offset(5)):
        with BuildLine():
            Line((-20, -195), (-20, -95))
            ThreePointArc((-20, -95), (-26.598300563, -67.049150281), (-45, -45))
            Line((-45, -45), (-45, -195))
            Line((-45, -195), (-20, -195))
        make_face()
        with BuildLine():
            Line((45, -195), (20, -195))
            Line((20, -195), (20, -95))
            ThreePointArc((20, -95), (26.598300563, -67.049150281), (45, -45))
            Line((45, -45), (45, -195))
        make_face()
    extrude(amount=-CUT_EXTRUDE_10_DEPTH, mode=Mode.SUBTRACT)


solid = part.part
